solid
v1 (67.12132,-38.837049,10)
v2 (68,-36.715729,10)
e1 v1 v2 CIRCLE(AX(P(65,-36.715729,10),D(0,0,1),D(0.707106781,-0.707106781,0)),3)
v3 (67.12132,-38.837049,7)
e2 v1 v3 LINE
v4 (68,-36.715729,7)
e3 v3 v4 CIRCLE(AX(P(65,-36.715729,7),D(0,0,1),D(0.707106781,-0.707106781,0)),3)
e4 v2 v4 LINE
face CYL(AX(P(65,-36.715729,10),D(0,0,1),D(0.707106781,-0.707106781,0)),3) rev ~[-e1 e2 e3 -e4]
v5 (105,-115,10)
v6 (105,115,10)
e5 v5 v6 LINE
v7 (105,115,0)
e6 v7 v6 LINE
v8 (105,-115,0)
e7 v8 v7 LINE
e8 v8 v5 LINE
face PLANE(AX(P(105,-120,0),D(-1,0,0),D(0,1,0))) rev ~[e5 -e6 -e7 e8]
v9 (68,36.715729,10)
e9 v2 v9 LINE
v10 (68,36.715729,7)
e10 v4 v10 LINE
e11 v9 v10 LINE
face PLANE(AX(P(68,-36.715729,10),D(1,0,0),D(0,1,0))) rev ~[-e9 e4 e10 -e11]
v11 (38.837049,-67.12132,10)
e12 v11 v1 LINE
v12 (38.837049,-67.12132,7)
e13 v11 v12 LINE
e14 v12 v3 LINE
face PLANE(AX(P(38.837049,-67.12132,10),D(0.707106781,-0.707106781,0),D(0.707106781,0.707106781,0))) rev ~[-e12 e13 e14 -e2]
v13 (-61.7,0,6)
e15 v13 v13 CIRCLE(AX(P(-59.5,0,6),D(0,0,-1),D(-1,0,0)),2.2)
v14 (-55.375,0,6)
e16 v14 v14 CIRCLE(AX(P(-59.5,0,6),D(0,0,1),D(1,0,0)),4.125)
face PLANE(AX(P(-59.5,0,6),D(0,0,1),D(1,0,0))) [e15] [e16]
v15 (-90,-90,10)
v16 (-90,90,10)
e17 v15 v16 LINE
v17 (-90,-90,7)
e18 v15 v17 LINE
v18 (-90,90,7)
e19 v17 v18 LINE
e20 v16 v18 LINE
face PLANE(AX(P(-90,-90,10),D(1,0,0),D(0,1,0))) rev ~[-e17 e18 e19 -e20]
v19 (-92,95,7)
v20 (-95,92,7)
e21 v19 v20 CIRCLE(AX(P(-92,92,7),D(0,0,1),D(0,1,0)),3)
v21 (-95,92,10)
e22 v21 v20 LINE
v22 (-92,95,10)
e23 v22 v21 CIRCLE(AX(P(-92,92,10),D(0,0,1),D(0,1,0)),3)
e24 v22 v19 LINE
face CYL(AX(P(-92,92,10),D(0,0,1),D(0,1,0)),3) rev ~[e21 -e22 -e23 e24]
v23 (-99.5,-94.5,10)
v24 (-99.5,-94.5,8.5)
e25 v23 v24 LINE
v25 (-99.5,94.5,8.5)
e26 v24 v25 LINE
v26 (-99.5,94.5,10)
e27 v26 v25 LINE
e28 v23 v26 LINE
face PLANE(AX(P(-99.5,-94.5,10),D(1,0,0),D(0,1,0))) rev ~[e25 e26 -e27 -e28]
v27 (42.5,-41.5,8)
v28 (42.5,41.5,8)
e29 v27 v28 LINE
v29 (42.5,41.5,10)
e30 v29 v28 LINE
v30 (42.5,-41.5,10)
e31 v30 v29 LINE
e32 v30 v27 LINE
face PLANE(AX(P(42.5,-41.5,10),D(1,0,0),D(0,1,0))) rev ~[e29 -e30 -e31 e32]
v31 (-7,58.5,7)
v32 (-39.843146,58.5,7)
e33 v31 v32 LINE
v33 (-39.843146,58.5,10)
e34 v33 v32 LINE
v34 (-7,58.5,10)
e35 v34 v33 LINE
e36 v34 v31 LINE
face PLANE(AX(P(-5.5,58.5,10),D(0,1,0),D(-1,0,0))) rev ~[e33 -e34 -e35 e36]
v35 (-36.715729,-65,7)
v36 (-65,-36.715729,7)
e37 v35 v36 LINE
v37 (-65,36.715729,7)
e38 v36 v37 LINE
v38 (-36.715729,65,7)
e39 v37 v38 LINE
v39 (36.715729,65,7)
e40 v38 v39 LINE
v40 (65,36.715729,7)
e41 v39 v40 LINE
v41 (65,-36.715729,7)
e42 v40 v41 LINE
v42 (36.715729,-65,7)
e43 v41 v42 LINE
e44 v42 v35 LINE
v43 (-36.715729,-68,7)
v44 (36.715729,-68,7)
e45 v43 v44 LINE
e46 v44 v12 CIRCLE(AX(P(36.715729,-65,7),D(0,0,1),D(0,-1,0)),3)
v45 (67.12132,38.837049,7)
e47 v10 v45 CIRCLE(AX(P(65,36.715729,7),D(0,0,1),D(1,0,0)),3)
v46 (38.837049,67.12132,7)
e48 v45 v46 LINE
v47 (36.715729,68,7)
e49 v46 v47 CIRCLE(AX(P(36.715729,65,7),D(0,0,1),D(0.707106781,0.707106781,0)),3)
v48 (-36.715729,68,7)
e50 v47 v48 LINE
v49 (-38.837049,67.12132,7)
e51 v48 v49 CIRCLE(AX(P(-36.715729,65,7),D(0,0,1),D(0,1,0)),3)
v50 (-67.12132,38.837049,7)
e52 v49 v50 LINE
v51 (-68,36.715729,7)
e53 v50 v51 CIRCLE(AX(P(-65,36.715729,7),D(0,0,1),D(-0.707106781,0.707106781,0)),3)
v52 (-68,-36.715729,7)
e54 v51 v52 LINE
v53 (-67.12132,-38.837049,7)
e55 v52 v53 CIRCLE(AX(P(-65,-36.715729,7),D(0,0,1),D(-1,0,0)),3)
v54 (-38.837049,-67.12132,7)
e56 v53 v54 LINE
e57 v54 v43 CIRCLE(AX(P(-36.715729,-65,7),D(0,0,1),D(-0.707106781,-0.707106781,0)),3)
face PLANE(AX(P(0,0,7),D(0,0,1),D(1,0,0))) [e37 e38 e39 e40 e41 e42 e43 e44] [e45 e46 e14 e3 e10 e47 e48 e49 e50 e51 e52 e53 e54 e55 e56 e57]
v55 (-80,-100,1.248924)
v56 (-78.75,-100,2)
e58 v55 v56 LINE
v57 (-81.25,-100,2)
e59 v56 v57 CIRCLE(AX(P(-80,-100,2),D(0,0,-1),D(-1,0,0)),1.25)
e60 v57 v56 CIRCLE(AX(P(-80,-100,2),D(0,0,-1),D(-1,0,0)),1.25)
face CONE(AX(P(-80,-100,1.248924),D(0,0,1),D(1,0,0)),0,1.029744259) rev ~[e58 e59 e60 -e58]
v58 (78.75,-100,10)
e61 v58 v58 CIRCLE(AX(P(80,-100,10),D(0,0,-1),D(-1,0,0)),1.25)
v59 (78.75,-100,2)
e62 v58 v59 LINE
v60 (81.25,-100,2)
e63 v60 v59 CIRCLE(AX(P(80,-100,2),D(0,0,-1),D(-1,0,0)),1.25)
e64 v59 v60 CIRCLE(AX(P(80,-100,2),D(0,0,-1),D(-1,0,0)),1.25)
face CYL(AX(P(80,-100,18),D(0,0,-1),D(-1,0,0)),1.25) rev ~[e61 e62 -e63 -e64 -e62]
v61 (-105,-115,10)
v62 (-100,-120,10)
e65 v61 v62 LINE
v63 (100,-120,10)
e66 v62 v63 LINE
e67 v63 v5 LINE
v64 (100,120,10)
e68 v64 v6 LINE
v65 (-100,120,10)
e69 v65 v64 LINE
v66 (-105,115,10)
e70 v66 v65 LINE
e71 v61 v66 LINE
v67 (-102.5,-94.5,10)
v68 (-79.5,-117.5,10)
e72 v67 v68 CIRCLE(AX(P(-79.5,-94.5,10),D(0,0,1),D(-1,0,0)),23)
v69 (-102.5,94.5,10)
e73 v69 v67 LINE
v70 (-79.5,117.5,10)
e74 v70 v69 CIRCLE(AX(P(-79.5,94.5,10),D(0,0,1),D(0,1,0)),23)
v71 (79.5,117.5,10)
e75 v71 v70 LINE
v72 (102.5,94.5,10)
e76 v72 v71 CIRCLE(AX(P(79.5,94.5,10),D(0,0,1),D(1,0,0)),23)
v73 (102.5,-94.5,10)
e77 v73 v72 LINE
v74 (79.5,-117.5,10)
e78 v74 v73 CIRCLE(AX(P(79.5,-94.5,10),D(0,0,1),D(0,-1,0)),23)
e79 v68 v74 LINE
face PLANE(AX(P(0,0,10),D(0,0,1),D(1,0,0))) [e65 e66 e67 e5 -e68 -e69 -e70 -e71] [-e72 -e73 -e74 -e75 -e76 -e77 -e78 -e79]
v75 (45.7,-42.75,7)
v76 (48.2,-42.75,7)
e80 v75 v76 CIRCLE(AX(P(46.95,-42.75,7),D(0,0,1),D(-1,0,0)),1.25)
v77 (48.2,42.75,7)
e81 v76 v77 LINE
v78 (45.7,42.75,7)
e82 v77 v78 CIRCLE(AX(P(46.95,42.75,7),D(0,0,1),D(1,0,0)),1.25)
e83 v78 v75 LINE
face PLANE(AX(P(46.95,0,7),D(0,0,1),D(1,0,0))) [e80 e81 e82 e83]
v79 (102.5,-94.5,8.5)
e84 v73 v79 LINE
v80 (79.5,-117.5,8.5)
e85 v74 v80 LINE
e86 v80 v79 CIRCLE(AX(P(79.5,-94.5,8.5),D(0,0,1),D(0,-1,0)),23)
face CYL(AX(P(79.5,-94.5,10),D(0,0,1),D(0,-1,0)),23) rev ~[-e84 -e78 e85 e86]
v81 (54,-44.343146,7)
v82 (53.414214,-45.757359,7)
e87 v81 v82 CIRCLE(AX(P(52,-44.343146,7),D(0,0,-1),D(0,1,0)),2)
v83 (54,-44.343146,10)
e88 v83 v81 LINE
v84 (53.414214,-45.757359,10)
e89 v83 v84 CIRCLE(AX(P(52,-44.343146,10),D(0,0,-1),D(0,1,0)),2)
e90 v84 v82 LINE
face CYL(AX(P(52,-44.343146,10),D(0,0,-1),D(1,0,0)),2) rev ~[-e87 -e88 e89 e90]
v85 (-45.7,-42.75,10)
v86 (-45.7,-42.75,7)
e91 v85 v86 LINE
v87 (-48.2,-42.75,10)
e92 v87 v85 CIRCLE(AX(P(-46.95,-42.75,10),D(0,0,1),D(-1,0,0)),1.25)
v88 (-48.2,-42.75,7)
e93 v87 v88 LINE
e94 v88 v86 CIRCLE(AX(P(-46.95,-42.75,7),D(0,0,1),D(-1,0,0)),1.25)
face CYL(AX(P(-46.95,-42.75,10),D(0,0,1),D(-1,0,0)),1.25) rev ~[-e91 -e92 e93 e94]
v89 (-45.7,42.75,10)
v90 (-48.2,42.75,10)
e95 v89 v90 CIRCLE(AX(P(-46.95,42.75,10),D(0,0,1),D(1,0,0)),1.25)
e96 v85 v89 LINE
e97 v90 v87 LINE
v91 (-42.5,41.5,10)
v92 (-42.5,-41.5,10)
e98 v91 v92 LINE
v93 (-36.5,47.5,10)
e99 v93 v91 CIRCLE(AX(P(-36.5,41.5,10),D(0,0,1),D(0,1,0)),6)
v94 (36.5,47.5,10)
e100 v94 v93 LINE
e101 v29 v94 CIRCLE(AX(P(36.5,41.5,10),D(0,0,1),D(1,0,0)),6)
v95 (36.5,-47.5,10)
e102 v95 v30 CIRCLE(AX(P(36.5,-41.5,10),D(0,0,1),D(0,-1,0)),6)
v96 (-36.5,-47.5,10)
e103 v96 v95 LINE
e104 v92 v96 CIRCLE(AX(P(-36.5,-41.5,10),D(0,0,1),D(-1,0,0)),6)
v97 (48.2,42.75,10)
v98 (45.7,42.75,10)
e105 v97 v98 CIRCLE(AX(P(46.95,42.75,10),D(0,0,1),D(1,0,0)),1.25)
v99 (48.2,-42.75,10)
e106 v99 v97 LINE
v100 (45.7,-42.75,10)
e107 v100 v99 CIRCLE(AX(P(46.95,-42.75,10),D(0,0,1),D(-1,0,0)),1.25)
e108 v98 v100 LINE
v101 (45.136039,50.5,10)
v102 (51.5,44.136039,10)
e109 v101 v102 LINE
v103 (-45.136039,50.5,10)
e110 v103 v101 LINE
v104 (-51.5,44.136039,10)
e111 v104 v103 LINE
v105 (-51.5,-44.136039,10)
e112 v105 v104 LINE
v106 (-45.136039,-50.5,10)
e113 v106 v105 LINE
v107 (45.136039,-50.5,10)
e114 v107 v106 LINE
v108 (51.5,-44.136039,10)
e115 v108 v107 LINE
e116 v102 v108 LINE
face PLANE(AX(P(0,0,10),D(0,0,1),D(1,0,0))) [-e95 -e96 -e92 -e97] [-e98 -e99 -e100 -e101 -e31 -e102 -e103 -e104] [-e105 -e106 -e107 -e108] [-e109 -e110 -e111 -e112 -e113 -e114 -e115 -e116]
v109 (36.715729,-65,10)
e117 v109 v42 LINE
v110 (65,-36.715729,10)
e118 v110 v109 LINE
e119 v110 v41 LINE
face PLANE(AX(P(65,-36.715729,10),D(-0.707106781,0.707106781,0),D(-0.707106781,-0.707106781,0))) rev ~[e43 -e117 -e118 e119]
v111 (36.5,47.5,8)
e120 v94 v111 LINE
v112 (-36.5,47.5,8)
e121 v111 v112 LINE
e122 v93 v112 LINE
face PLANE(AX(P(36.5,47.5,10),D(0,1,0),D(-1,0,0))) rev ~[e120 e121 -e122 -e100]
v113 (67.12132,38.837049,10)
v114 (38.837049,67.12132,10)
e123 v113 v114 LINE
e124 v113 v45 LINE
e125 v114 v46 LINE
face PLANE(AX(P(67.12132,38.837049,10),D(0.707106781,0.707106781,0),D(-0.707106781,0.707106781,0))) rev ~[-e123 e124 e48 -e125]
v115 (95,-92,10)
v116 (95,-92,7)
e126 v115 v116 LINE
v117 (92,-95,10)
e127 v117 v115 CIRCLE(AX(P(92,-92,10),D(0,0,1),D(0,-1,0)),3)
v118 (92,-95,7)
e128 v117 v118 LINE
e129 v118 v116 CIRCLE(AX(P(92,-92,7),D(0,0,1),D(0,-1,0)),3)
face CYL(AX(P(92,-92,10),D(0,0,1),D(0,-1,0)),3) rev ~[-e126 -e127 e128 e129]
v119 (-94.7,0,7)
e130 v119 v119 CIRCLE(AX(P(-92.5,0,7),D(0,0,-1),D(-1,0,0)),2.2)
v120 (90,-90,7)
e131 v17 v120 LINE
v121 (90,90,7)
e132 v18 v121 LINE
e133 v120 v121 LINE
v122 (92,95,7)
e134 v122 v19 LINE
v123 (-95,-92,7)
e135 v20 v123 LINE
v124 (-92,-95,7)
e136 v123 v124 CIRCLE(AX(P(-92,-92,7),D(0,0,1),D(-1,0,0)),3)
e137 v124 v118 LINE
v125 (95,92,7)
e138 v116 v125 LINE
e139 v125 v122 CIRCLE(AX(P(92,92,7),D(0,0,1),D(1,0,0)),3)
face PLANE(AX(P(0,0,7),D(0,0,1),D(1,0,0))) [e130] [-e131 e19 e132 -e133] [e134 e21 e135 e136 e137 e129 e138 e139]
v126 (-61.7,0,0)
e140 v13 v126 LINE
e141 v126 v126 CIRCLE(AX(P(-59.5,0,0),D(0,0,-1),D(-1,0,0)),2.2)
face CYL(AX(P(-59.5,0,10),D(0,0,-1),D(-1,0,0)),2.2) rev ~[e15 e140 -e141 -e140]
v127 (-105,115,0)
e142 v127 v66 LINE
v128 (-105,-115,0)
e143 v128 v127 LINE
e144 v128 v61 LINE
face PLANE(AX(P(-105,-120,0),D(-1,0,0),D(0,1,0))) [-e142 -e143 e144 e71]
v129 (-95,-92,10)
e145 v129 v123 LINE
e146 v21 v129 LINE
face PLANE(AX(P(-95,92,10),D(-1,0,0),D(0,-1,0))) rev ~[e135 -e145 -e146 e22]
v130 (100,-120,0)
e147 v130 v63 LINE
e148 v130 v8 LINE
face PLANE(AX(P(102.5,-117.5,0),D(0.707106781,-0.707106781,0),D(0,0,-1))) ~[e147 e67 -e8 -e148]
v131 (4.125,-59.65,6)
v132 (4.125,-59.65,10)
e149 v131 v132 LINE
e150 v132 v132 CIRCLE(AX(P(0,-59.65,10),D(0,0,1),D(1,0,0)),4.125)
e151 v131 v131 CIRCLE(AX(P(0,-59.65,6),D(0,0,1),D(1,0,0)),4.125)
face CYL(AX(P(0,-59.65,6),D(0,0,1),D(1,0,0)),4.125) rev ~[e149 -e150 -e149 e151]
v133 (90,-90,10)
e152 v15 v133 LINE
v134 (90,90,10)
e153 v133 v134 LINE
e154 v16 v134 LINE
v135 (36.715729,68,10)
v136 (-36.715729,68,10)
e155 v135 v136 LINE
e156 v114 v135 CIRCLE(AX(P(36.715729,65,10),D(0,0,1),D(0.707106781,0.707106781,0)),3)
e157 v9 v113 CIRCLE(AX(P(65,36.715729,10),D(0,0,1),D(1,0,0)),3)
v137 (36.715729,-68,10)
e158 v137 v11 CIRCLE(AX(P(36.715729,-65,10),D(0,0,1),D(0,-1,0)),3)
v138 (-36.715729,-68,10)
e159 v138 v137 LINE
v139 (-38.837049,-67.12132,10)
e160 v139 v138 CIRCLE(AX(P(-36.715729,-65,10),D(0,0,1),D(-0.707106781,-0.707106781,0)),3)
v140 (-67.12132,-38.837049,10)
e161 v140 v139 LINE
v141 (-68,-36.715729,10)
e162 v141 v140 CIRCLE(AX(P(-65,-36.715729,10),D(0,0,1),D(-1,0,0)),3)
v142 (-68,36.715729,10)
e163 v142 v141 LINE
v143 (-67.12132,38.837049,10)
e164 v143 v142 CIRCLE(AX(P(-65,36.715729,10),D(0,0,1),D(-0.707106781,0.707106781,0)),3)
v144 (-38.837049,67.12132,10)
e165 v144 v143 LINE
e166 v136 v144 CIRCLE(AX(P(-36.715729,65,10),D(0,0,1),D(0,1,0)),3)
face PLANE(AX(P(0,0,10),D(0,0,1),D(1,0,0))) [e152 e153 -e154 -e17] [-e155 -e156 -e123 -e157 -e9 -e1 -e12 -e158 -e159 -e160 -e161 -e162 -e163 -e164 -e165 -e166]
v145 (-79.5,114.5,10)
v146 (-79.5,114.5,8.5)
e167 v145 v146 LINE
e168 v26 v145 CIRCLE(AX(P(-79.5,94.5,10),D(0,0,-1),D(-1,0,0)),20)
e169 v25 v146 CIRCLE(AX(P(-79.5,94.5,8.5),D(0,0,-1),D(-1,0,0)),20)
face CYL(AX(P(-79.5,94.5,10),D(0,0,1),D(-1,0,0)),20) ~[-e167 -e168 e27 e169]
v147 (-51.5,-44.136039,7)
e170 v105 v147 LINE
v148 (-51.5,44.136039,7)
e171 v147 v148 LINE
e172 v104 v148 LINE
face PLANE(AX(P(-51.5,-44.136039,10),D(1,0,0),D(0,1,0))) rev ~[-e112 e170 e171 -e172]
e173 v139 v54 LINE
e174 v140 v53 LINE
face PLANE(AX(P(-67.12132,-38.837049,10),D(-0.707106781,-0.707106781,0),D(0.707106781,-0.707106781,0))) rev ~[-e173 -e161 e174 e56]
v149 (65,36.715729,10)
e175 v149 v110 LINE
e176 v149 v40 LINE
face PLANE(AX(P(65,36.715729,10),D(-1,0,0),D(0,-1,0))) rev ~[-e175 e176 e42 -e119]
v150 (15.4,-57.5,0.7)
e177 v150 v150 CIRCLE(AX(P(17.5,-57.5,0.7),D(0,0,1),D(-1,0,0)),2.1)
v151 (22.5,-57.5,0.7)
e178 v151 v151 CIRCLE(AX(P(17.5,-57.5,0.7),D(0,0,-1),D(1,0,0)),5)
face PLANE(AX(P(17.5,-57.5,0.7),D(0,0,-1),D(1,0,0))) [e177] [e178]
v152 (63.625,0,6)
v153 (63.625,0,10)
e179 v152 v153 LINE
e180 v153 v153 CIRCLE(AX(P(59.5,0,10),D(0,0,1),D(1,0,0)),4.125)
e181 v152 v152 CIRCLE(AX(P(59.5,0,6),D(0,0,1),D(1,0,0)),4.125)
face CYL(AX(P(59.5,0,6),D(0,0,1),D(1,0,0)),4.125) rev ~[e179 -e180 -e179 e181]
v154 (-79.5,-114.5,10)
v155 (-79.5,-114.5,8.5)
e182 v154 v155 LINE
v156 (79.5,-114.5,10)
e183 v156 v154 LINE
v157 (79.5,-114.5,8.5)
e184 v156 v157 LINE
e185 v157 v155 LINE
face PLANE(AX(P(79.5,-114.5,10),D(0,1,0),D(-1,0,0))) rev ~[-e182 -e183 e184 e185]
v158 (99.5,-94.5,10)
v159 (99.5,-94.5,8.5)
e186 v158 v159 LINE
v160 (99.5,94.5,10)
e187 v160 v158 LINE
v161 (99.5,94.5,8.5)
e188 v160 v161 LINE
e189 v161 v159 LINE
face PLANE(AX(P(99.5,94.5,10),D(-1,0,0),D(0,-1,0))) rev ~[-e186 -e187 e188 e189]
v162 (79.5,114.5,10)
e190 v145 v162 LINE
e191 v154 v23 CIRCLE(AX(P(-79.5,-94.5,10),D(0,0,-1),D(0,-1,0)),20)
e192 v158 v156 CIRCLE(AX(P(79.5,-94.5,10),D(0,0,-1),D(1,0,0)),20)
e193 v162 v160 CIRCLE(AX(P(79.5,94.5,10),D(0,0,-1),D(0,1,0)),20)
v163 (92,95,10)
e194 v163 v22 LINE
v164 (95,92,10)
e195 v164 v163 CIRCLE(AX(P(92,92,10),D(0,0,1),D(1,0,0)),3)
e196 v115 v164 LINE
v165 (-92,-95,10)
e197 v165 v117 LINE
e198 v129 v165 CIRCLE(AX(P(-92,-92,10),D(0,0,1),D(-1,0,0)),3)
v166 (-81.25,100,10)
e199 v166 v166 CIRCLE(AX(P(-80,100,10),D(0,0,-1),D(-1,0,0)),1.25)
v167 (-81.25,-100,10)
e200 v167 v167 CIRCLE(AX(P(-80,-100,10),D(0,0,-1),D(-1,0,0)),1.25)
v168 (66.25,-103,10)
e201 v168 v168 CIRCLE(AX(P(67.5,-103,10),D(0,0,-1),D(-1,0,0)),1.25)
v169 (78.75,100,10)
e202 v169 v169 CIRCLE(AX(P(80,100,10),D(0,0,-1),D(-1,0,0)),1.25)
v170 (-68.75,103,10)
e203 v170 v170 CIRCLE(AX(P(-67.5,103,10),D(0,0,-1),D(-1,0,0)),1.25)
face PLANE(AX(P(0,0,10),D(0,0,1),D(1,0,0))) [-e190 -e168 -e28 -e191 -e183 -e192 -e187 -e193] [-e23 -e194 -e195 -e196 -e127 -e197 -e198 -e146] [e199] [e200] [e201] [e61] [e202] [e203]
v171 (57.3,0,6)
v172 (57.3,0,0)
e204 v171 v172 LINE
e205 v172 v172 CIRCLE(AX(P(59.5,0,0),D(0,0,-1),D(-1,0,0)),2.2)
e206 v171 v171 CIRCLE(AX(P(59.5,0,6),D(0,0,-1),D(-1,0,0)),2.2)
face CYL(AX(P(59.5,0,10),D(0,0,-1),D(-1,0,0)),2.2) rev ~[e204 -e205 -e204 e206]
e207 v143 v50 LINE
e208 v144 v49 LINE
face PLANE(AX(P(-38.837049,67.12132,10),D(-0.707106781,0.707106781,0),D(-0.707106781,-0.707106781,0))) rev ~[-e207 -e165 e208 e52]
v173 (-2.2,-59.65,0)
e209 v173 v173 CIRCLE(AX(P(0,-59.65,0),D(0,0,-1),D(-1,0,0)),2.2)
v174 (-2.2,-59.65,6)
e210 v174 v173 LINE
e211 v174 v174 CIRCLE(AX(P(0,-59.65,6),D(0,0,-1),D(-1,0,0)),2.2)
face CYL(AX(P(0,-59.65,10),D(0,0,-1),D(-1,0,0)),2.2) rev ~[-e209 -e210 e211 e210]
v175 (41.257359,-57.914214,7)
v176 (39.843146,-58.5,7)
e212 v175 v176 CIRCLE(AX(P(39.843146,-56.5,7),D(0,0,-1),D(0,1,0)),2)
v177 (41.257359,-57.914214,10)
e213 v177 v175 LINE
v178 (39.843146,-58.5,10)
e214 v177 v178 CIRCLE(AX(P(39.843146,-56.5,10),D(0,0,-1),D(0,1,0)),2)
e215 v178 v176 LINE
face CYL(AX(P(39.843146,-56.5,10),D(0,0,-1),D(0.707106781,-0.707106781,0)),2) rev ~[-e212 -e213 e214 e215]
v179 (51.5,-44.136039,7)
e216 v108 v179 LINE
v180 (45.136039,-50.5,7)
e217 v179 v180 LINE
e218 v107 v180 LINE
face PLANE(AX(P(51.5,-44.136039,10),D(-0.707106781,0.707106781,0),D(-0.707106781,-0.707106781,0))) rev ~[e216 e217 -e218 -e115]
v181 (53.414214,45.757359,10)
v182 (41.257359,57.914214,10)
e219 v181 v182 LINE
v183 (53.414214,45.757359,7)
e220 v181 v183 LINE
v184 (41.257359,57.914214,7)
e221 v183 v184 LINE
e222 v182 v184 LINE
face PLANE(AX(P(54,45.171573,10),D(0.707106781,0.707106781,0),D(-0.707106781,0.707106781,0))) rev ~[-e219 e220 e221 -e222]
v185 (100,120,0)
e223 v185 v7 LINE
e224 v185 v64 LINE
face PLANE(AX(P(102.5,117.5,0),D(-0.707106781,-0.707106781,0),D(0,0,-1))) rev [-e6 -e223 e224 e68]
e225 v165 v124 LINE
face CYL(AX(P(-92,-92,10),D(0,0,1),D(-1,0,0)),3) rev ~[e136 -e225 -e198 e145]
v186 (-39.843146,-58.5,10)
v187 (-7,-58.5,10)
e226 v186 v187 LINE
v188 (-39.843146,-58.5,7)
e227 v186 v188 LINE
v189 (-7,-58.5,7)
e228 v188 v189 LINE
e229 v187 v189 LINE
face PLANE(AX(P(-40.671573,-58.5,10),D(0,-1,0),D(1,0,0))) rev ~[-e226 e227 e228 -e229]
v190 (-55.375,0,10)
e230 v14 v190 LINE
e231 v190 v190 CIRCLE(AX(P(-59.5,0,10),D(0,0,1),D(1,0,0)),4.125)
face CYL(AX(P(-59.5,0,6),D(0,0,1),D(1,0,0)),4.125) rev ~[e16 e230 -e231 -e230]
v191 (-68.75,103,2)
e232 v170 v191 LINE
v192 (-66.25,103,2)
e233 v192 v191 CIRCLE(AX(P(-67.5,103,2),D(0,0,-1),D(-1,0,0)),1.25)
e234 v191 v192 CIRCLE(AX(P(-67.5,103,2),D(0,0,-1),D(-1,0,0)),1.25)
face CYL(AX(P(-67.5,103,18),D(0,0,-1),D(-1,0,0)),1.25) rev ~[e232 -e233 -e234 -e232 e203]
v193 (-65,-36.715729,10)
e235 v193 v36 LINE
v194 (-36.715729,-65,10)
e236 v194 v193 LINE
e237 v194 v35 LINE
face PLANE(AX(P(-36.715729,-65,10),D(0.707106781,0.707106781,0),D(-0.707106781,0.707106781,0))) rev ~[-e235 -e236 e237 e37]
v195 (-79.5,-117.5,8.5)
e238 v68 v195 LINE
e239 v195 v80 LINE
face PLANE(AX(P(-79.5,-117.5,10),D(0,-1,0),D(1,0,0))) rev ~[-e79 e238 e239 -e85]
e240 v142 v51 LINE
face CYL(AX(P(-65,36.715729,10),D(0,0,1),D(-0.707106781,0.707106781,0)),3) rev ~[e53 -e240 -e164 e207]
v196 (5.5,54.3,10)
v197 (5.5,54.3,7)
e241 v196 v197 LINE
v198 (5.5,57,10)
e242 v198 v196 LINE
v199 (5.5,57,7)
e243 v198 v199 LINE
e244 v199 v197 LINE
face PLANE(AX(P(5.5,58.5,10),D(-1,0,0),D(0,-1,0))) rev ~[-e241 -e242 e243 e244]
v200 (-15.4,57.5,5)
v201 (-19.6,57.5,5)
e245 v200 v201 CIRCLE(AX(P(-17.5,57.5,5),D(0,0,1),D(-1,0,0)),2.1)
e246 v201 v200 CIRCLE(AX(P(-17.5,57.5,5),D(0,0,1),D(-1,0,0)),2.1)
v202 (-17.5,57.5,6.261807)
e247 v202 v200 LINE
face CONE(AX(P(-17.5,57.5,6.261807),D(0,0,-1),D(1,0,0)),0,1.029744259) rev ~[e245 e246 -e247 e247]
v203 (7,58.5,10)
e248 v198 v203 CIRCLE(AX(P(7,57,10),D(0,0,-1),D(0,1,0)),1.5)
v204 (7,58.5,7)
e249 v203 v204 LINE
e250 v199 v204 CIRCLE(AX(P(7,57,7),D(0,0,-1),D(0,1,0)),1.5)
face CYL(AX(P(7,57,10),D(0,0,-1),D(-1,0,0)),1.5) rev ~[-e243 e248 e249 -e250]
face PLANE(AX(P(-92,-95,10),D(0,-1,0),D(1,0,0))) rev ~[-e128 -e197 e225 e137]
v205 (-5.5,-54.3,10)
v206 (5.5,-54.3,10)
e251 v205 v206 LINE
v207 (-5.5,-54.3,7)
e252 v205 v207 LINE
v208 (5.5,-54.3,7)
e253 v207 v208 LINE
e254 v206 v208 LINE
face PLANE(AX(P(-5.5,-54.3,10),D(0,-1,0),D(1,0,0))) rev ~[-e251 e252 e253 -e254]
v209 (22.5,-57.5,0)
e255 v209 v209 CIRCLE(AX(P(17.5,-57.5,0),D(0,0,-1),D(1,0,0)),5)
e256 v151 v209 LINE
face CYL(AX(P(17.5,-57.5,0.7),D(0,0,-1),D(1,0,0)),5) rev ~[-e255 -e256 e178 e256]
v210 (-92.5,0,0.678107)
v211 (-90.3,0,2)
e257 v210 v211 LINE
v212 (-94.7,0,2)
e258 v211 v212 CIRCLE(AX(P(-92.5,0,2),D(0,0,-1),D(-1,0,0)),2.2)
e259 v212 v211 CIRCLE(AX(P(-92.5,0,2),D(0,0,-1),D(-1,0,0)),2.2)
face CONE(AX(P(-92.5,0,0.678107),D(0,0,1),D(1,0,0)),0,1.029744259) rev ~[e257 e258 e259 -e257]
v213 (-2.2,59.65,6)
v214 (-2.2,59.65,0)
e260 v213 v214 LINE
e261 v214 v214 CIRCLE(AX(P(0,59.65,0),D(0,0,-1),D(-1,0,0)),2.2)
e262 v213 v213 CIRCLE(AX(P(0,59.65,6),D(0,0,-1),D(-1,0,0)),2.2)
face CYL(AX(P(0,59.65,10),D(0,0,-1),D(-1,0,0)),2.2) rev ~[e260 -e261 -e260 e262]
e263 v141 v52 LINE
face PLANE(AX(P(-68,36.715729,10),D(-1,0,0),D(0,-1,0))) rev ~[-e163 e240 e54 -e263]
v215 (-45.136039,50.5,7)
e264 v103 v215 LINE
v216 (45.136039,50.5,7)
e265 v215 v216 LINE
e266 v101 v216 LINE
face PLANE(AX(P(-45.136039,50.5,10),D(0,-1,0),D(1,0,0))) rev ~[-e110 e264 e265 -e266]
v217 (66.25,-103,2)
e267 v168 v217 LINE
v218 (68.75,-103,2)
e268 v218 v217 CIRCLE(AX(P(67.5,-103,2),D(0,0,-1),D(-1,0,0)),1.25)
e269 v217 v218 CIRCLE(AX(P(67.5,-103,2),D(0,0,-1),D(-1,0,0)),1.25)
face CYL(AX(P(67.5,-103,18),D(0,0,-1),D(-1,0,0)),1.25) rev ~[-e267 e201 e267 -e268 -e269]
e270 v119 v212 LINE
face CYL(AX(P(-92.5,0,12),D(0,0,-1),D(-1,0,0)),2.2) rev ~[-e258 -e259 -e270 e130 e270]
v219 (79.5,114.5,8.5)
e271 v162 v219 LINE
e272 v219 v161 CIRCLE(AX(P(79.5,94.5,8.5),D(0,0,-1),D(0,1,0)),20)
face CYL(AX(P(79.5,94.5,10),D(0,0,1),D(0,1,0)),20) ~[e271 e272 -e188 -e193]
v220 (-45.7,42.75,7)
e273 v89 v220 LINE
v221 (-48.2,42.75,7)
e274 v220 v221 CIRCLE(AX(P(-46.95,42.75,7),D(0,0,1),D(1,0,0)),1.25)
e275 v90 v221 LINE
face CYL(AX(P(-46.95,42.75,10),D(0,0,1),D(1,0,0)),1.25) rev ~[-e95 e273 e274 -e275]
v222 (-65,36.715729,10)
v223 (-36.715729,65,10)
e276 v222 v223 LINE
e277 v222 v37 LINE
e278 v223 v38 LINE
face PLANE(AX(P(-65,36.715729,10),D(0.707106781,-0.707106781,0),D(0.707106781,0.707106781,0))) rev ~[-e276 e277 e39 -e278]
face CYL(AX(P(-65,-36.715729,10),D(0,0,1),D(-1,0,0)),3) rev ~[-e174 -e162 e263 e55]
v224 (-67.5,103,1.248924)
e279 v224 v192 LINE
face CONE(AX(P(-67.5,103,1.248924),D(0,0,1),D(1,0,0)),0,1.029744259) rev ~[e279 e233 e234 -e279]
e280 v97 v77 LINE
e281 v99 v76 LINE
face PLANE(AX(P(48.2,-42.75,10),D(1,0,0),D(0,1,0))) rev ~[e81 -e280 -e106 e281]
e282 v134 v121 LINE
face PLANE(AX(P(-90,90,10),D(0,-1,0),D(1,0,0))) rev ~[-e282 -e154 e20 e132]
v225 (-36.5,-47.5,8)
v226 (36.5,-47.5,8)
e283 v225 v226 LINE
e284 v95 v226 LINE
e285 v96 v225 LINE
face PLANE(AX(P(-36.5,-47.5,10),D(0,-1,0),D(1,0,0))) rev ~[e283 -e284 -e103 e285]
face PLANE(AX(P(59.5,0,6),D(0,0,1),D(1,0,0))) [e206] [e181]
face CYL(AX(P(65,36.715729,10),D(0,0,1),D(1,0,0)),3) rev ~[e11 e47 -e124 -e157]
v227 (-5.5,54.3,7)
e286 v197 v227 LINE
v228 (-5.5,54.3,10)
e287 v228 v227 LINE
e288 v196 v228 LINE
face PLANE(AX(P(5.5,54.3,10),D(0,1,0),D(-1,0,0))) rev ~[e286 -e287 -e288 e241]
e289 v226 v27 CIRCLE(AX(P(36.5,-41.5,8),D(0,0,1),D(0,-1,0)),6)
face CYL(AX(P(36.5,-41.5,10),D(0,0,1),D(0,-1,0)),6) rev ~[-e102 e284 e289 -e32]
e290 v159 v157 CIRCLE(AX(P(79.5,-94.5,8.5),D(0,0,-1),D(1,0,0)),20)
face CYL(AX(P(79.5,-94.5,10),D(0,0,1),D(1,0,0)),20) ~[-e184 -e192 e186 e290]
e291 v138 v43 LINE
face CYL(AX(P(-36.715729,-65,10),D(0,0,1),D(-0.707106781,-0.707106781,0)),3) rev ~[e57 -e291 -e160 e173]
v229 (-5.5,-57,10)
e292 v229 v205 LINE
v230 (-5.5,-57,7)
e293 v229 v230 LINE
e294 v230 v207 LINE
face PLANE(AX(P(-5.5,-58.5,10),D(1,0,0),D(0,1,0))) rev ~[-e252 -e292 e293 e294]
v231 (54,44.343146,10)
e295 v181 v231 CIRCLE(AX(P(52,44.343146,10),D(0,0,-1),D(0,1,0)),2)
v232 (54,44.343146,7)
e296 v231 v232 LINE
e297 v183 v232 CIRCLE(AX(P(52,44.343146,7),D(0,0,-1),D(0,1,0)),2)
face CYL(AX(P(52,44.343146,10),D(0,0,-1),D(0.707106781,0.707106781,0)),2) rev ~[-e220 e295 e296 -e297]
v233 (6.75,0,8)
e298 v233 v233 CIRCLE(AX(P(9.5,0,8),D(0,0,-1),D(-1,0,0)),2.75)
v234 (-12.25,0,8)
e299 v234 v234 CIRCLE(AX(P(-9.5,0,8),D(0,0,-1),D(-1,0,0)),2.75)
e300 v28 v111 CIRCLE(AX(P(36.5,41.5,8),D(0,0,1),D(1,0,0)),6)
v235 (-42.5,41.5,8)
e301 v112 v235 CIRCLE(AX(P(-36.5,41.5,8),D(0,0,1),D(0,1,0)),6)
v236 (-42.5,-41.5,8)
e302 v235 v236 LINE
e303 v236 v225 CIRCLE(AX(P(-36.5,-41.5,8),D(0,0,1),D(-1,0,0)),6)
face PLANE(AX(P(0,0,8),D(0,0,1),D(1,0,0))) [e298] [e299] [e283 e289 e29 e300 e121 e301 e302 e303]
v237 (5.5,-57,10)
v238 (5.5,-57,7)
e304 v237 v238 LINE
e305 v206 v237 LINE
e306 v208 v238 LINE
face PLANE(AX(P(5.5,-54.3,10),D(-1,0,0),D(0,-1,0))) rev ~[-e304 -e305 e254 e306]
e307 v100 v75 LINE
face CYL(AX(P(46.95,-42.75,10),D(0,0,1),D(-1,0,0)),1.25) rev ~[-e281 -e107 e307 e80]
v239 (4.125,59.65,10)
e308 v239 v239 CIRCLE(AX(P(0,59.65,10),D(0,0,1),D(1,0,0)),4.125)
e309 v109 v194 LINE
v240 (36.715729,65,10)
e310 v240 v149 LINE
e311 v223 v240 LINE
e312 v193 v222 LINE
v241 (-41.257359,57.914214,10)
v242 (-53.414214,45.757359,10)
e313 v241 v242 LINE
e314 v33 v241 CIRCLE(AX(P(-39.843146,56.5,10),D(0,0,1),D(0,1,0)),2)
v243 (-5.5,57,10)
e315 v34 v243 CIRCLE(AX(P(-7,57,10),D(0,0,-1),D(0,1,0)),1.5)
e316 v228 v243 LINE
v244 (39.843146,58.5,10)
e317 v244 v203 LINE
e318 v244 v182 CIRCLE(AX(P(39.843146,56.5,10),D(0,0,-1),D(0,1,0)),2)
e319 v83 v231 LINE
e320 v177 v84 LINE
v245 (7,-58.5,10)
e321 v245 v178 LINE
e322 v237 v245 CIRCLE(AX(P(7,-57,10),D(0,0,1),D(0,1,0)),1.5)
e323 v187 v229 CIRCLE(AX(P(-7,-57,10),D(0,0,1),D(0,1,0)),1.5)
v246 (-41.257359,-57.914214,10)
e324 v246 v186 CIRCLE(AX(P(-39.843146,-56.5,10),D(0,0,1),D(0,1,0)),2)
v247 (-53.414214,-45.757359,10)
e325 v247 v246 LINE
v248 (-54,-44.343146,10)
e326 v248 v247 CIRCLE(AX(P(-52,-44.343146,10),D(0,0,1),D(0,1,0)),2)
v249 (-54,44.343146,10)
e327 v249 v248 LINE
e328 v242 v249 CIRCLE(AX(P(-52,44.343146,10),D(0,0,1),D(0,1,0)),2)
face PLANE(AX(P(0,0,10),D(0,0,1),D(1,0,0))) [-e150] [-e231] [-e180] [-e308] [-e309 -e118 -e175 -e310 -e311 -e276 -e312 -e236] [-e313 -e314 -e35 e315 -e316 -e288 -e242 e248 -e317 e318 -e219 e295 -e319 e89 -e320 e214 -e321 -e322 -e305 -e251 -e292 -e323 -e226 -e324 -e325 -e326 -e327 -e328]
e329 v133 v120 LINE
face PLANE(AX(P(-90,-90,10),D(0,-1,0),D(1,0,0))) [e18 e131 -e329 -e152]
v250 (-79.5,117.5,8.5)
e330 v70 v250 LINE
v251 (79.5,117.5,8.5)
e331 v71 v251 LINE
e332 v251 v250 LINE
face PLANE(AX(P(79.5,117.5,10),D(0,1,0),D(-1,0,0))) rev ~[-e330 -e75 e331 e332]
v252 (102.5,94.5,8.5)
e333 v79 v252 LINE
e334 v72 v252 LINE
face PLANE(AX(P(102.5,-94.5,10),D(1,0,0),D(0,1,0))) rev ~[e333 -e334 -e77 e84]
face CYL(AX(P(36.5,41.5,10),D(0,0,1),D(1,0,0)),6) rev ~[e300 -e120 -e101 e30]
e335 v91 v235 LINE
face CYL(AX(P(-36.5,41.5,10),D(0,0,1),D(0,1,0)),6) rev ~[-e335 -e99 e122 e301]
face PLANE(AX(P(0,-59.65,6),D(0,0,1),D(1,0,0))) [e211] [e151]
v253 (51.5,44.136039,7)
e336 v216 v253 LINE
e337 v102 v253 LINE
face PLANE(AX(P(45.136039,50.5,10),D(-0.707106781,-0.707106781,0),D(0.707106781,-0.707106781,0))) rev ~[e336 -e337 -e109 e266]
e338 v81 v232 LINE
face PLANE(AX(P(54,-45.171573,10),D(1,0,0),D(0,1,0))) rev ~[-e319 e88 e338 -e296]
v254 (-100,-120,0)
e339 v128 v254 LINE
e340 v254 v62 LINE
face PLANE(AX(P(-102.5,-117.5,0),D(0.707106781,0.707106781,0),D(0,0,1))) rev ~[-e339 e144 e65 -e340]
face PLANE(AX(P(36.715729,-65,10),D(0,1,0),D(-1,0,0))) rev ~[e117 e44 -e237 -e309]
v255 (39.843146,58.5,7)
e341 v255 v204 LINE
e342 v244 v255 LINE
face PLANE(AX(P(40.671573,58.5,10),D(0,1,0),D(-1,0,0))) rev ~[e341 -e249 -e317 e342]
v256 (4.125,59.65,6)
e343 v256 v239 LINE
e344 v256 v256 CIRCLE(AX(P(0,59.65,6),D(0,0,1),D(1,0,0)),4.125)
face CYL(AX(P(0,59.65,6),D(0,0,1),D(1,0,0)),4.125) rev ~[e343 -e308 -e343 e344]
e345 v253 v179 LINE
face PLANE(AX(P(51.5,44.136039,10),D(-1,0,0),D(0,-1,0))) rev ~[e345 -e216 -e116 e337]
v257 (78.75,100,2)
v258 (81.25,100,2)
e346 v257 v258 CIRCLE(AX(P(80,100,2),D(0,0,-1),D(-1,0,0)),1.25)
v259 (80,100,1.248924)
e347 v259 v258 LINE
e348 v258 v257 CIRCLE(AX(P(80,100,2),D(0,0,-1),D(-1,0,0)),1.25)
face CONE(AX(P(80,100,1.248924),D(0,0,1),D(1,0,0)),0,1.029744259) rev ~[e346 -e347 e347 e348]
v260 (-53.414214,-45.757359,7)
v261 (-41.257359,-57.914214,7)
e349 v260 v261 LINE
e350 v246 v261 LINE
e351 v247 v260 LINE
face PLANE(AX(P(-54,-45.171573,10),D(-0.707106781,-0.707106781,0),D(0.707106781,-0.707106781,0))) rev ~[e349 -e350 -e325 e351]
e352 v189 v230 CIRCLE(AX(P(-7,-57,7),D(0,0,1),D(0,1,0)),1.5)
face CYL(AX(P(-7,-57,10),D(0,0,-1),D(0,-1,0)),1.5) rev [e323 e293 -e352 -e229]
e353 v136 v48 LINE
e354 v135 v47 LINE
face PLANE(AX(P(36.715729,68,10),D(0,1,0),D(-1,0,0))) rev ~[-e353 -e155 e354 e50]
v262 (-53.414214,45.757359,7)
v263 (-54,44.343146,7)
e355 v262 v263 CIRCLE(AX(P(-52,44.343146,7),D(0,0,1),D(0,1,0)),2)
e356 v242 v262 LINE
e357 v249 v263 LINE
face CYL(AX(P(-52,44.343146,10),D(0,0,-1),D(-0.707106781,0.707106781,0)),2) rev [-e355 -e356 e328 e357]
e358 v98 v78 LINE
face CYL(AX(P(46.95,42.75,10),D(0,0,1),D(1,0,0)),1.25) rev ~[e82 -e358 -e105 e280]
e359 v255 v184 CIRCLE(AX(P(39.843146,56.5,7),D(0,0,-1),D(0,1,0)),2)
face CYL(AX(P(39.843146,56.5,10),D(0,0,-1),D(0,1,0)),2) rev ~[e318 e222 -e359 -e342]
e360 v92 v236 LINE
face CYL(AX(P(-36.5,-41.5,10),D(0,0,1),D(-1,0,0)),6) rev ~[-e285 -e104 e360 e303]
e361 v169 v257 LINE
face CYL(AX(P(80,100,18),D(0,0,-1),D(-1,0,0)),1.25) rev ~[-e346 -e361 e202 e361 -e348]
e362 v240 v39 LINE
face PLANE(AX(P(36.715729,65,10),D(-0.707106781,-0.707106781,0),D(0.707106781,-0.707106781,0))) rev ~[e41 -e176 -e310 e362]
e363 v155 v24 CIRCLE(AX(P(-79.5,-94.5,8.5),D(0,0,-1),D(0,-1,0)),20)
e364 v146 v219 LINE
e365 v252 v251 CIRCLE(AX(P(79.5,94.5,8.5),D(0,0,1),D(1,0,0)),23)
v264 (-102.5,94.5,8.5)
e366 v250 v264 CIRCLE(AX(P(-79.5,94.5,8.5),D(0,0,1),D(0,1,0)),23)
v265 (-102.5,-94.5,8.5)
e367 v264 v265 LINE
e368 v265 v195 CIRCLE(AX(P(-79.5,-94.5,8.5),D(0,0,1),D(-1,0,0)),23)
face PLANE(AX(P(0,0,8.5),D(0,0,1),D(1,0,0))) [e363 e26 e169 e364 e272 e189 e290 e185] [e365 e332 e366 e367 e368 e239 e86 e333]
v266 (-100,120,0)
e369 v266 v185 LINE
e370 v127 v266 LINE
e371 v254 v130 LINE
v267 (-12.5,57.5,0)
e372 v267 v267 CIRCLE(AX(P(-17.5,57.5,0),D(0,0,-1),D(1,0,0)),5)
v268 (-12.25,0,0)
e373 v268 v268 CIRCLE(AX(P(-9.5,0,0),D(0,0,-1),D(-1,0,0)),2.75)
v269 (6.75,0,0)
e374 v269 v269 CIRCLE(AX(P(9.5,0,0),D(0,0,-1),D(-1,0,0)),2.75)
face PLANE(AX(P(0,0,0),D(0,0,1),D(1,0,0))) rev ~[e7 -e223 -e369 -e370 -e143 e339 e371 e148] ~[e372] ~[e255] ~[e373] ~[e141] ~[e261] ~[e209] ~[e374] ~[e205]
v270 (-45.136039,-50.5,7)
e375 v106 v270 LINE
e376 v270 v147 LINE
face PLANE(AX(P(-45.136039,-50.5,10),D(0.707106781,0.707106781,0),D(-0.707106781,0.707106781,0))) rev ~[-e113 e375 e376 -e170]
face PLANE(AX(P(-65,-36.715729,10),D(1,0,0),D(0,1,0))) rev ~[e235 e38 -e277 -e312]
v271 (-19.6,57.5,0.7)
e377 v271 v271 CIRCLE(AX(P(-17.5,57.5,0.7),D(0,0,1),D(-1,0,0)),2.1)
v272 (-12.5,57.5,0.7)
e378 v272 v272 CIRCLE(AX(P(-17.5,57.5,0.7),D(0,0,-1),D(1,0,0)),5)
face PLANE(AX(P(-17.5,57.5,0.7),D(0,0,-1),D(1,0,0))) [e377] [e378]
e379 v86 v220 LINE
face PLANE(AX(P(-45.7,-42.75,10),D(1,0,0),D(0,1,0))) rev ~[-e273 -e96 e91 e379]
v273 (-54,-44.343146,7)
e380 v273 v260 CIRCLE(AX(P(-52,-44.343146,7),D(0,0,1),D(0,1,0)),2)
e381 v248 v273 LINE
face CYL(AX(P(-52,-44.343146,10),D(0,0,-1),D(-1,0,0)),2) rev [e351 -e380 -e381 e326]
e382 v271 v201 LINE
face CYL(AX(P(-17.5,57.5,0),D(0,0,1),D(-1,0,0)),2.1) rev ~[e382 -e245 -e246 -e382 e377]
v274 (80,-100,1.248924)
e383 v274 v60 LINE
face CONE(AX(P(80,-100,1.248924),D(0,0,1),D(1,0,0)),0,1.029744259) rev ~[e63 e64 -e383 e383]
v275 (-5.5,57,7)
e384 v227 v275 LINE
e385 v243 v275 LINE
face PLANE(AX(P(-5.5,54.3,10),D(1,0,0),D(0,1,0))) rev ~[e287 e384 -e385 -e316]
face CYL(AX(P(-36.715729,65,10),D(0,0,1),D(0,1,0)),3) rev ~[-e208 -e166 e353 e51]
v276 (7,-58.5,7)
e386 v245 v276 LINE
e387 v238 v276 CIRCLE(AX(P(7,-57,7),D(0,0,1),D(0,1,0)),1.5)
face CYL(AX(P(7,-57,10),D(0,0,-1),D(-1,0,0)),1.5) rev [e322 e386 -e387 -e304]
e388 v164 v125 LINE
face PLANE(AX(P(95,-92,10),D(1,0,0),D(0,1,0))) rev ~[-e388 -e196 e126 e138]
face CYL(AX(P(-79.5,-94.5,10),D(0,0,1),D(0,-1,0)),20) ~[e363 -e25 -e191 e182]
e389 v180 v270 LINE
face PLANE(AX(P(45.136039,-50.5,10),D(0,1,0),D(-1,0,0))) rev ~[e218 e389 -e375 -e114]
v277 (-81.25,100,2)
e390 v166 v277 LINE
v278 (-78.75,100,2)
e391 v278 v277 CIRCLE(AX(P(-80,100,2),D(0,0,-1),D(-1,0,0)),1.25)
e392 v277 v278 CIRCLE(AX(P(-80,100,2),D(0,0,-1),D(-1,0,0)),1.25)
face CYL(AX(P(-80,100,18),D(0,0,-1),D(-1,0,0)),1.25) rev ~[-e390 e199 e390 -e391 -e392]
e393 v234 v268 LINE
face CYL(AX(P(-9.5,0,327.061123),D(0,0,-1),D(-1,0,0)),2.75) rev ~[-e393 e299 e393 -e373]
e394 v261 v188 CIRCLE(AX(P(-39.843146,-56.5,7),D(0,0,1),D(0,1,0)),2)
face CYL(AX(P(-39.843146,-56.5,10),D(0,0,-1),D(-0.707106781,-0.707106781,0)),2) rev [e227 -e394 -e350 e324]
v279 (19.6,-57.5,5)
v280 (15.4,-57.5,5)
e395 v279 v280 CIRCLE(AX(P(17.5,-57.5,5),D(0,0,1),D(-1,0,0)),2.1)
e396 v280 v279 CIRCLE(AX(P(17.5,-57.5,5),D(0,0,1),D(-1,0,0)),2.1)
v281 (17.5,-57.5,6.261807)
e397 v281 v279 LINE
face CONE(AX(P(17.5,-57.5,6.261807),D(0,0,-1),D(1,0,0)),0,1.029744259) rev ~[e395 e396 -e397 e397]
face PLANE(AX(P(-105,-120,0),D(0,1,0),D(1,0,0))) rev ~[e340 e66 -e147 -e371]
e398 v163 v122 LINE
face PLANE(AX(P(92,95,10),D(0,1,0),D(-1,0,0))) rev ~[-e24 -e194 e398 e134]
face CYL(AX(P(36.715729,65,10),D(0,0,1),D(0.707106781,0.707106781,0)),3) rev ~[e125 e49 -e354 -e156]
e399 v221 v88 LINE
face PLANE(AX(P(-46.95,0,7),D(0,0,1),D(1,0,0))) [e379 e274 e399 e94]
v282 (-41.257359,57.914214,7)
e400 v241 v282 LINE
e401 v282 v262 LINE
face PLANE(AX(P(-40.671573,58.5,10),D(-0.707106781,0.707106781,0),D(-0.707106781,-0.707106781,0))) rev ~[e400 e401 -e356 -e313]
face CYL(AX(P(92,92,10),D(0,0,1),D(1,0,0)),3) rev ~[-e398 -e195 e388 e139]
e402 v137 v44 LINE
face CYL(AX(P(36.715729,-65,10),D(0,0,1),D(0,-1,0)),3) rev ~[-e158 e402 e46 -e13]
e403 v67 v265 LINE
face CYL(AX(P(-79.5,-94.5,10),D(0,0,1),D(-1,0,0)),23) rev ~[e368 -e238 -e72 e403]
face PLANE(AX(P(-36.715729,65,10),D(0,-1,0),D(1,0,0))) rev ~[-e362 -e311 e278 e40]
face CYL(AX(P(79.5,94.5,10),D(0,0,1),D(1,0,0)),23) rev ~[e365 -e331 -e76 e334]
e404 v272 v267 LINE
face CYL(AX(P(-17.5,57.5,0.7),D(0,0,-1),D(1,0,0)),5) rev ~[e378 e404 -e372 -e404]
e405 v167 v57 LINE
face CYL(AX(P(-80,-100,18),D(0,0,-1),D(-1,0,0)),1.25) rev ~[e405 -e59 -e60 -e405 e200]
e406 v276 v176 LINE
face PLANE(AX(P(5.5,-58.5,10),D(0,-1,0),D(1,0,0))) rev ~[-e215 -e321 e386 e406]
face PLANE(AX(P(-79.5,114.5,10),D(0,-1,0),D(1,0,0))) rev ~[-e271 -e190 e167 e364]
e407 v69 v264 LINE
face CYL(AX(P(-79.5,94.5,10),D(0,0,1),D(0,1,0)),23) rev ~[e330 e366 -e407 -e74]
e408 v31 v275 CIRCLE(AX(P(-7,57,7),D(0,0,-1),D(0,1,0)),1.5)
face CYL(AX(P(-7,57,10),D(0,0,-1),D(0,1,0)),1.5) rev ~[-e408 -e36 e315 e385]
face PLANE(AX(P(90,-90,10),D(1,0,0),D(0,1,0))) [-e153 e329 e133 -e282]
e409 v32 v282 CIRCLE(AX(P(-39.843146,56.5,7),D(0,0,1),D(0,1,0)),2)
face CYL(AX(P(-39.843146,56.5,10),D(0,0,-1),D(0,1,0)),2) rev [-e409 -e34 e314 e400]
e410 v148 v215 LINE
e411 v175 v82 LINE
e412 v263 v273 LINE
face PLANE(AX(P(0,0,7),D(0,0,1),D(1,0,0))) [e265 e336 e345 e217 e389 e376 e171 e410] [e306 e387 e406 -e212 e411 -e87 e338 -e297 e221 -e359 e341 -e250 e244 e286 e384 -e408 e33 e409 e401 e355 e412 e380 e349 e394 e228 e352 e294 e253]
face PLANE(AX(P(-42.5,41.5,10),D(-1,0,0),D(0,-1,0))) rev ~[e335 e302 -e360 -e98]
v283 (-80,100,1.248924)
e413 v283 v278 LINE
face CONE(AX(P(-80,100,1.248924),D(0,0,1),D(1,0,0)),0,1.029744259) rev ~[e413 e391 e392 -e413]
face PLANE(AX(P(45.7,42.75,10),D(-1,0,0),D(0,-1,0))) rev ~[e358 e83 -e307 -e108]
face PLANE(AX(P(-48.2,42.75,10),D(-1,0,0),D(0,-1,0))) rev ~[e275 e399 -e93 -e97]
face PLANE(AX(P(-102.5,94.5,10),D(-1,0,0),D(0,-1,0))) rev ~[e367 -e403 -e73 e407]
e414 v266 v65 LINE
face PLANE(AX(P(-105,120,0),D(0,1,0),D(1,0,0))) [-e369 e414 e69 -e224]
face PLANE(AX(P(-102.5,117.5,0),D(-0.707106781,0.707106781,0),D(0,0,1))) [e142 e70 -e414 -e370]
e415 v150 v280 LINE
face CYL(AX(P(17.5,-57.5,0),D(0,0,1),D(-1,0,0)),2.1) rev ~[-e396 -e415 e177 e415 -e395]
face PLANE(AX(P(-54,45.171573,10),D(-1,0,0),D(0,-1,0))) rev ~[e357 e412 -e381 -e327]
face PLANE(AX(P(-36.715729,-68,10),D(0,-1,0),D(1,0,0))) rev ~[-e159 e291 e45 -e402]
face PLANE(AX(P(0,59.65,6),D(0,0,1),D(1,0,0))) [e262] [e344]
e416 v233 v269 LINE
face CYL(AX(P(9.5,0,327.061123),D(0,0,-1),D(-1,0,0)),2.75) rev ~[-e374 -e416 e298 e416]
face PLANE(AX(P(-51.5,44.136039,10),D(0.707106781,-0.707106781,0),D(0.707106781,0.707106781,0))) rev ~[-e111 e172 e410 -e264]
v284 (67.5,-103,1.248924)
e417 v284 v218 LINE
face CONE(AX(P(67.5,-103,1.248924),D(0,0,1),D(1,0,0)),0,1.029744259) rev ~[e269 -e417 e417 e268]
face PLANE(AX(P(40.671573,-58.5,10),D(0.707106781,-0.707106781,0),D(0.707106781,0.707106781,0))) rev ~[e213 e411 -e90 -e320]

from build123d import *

# Parameters (mm, degrees)
F0_W            = 210
F0_H            = 240
F1_DEPTH        = 10
F3_DEPTH        = 1.5
F4_W            = 180
F4_H            = 180
F5_DEPTH        = 3
F7_DEPTH        = 3
F9_DEPTH        = 3
F11_DEPTH       = 3
F13_DEPTH       = 2
F15_D           = 5.5
F17_D           = 4.4
F17_CBORE_D     = 8.25
F17_CBORE_DEPTH = 4
F18_D           = 2.5
F18_DEPTH       = 8
F18_TIP         = 0.7510757738
F20_D           = 4.4
F20_DEPTH       = 5
F20_TIP         = 1.3218933619
F22_D           = 4.2
F22_DEPTH       = 5
F22_CBORE_D     = 10
F22_CBORE_DEPTH = 0.7
F22_TIP         = 1.2618073
F23_SIZE        = 5
F24_R           = 1.5
F25_R           = 2


with BuildPart() as f1:
    # F0 (on Top) → F1 (new body)
    with BuildSketch(Plane.XY):
        Rectangle(F0_W, F0_H)
    extrude(amount=F1_DEPTH)

    # F2 (on face) → F3 (cut)
    with BuildSketch(Plane.XY.offset(10)):
        with BuildLine():
            Line((102.5, -94.5), (102.5, 94.5))
            ThreePointArc((102.5, 94.5), (95.7634559673, 110.7634559673), (79.5, 117.5))
            Line((79.5, 117.5), (-79.5, 117.5))
            ThreePointArc((-79.5, 117.5), (-95.7634559673, 110.7634559673), (-102.5, 94.5))
            Line((-102.5, 94.5), (-102.5, -94.5))
            ThreePointArc((-102.5, -94.5), (-95.7634559673, -110.7634559673), (-79.5, -117.5))
            Line((-79.5, -117.5), (79.5, -117.5))
            ThreePointArc((79.5, -117.5), (95.7634559673, -110.7634559673), (102.5, -94.5))
        make_face()
        with BuildLine():
            ThreePointArc((99.5, -94.5), (93.6421356237, -108.6421356237), (79.5, -114.5))
            Line((79.5, -114.5), (-79.5, -114.5))
            ThreePointArc((-79.5, -114.5), (-93.6421356237, -108.6421356237), (-99.5, -94.5))
            Line((-99.5, -94.5), (-99.5, 94.5))
            ThreePointArc((-99.5, 94.5), (-93.6421356237, 108.6421356237), (-79.5, 114.5))
            Line((-79.5, 114.5), (79.5, 114.5))
            ThreePointArc((79.5, 114.5), (93.6421356237, 108.6421356237), (99.5, 94.5))
            Line((99.5, 94.5), (99.5, -94.5))
        make_face(mode=Mode.SUBTRACT)
    extrude(amount=-F3_DEPTH, mode=Mode.SUBTRACT)

    # F4 (on face) → F5 (cut)
    with BuildSketch(Plane.XY.offset(10)):
        with BuildLine():
            ThreePointArc((95, 92), (94.1213203436, 94.1213203436), (92, 95))
            Line((92, 95), (-92, 95))
            ThreePointArc((-92, 95), (-94.1213203436, 94.1213203436), (-95, 92))
            Line((-95, 92), (-95, -92))
            ThreePointArc((-95, -92), (-94.1213203436, -94.1213203436), (-92, -95))
            Line((-92, -95), (92, -95))
            ThreePointArc((92, -95), (94.1213203436, -94.1213203436), (95, -92))
            Line((95, -92), (95, 92))
        make_face()
        Rectangle(F4_W, F4_H, mode=Mode.SUBTRACT)
    extrude(amount=-F5_DEPTH, mode=Mode.SUBTRACT)

    # F6 (on face) → F7 (cut, through all)
    with BuildSketch(Plane.XY.offset(10)):
        with BuildLine():
            ThreePointArc((68, 36.7157287525), (67.7716385975, 37.8637790496), (67.1213203436, 38.8370490961))
            Line((67.1213203436, 38.8370490961), (38.8370490961, 67.1213203436))
            ThreePointArc((38.8370490961, 67.1213203436), (37.8637790496, 67.7716385975), (36.7157287525, 68))
            Line((36.7157287525, 68), (0, 68))
            Line((0, 68), (-36.7157287525, 68))
            ThreePointArc((-36.7157287525, 68), (-37.8637790496, 67.7716385975), (-38.8370490961, 67.1213203436))
            Line((-38.8370490961, 67.1213203436), (-67.1213203436, 38.8370490961))
            ThreePointArc((-67.1213203436, 38.8370490961), (-67.7716385975, 37.8637790496), (-68, 36.7157287525))
            Line((-68, 36.7157287525), (-68, 0))
            Line((-68, 0), (-68, -36.7157287525))
            ThreePointArc((-68, -36.7157287525), (-67.7716385975, -37.8637790496), (-67.1213203436, -38.8370490961))
            Line((-67.1213203436, -38.8370490961), (-38.8370490961, -67.1213203436))
            ThreePointArc((-38.8370490961, -67.1213203436), (-37.8637790496, -67.7716385975), (-36.7157287525, -68))
            Line((-36.7157287525, -68), (0, -68))
            Line((0, -68), (36.7157287525, -68))
            ThreePointArc((36.7157287525, -68), (37.8637790496, -67.7716385975), (38.8370490961, -67.1213203436))
            Line((38.8370490961, -67.1213203436), (67.1213203436, -38.8370490961))
            ThreePointArc((67.1213203436, -38.8370490961), (67.7716385975, -37.8637790496), (68, -36.7157287525))
            Line((68, -36.7157287525), (68, 0))
            Line((68, 0), (68, 36.7157287525))
        make_face()
        Polygon((-65, -36.7157287525), (-65, 0), (-65, 36.7157287525), (-36.7157287525, 65), (0, 65), (36.7157287525, 65), (65, 36.7157287525), (65, 0), (65, -36.7157287525), (36.7157287525, -65), (0, -65), (-36.7157287525, -65), align=None, mode=Mode.SUBTRACT)
    extrude(amount=-F7_DEPTH, mode=Mode.SUBTRACT)

    # F8 (on face) → F9 (cut, through all)
    with BuildSketch(Plane.XY.offset(10)):
        Polygon((-54, 45.1715728753), (-54, 0), (-54, -45.1715728753), (-40.6715728753, -58.5), (-5.5, -58.5), (-5.5, -54.3), (0, -54.3), (5.5, -54.3), (5.5, -58.5), (40.6715728753, -58.5), (54, -45.1715728753), (54, 0), (54, 45.1715728753), (40.6715728753, 58.5), (5.5, 58.5), (5.5, 54.3), (0, 54.3), (-5.5, 54.3), (-5.5, 58.5), (-40.6715728753, 58.5), align=None)
        Polygon((-51.5, -44.1360389693), (-51.5, 0), (-51.5, 44.1360389693), (-45.1360389693, 50.5), (0, 50.5), (45.1360389693, 50.5), (51.5, 44.1360389693), (51.5, 0), (51.5, -44.1360389693), (45.1360389693, -50.5), (0, -50.5), (-45.1360389693, -50.5), align=None, mode=Mode.SUBTRACT)
    extrude(amount=-F9_DEPTH, mode=Mode.SUBTRACT)

    # F10 (on face) → F11 (cut, through all)
    with BuildSketch(Plane.XY.offset(10)):
        with BuildLine():
            ThreePointArc((-45.7, 42.75), (-46.95, 44), (-48.2, 42.75))
            Line((-48.2, 42.75), (-48.2, -42.75))
            ThreePointArc((-48.2, -42.75), (-46.95, -44), (-45.7, -42.75))
            Line((-45.7, -42.75), (-45.7, 42.75))
        make_face()
        with BuildLine():
            ThreePointArc((45.7, -42.75), (46.95, -44), (48.2, -42.75))
            Line((48.2, -42.75), (48.2, 42.75))
            ThreePointArc((48.2, 42.75), (46.95, 44), (45.7, 42.75))
            Line((45.7, 42.75), (45.7, -42.75))
        make_face()
    extrude(amount=-F11_DEPTH, mode=Mode.SUBTRACT)

    # F12 (on face) → F13 (cut)
    with BuildSketch(Plane.XY.offset(10)):
        with BuildLine():
            Line((-36.5, -47.5), (36.5, -47.5))
            ThreePointArc((36.5, -47.5), (40.7426406871, -45.7426406871), (42.5, -41.5))
            Line((42.5, -41.5), (42.5, 41.5))
            ThreePointArc((42.5, 41.5), (40.7426406871, 45.7426406871), (36.5, 47.5))
            Line((36.5, 47.5), (-36.5, 47.5))
            ThreePointArc((-36.5, 47.5), (-40.7426406871, 45.7426406871), (-42.5, 41.5))
            Line((-42.5, 41.5), (-42.5, -41.5))
            ThreePointArc((-42.5, -41.5), (-40.7426406871, -45.7426406871), (-36.5, -47.5))
        make_face()
    extrude(amount=-F13_DEPTH, mode=Mode.SUBTRACT)

    # F15 (through all)
    with Locations(Plane.XY.offset(8)):
        with Locations((-9.5, 0), (9.5, 0)):
            Hole(F15_D / 2)

    # F17 (through all)
    with Locations(Plane.XY.offset(10)):
        with Locations((0, 59.65), (59.5, 0), (0, -59.65), (-59.5, 0)):
            CounterBoreHole(F17_D / 2, F17_CBORE_D / 2, F17_CBORE_DEPTH)

    # F18
    with Locations(Plane.XY.offset(10)):
        with Locations((-80, 100), (-67.5, 103), (80, 100), (-80, -100), (80, -100), (67.5, -103)):
            Hole(F18_D / 2, depth=F18_DEPTH)
            with Locations((0, 0, -(F18_DEPTH + F18_TIP / 2))):  # 118° drill point
                Cone(0, F18_D / 2, F18_TIP, mode=Mode.SUBTRACT)

    # F20
    with Locations(Plane.XY.offset(7)):
        with Locations((-92.5, 0)):
            Hole(F20_D / 2, depth=F20_DEPTH)
            with Locations((0, 0, -(F20_DEPTH + F20_TIP / 2))):  # 118° drill point
                Cone(0, F20_D / 2, F20_TIP, mode=Mode.SUBTRACT)

    # F22
    with Locations(Plane(origin=(0, 0, 0), x_dir=(1, 0, 0), z_dir=(0, 0, -1))):
        with Locations((-17.5, -57.5), (17.5, 57.5)):
            CounterBoreHole(F22_D / 2, F22_CBORE_D / 2, F22_CBORE_DEPTH, depth=F22_DEPTH)
            with Locations((0, 0, -(F22_DEPTH + F22_TIP / 2))):  # 118° drill point
                Cone(0, F22_D / 2, F22_TIP, mode=Mode.SUBTRACT)

    # F23
    f23_edges = [f1.edges().sort_by_distance(p)[0] for p in [
        (-105, 120, 5),
        (105, 120, 5),
        (-105, -120, 5),
        (105, -120, 5),
    ]]
    chamfer(f23_edges, length=F23_SIZE)

    # F24
    f24_edges = [f1.edges().sort_by_distance(p)[0] for p in [
        (-5.5, 58.5, 8.5),
        (5.5, 58.5, 8.5),
        (5.5, -58.5, 8.5),
        (-5.5, -58.5, 8.5),
    ]]
    fillet(f24_edges, radius=F24_R)

    # F25
    f25_edges = [f1.edges().sort_by_distance(p)[0] for p in [
        (40.671573, 58.5, 8.5),
        (-40.671573, 58.5, 8.5),
        (-54, 45.171573, 8.5),
        (-54, -45.171573, 8.5),
        (-40.671573, -58.5, 8.5),
        (40.671573, -58.5, 8.5),
        (54, -45.171573, 8.5),
        (54, 45.171573, 8.5),
    ]]
    fillet(f25_edges, radius=F25_R)


solid = f1.part
